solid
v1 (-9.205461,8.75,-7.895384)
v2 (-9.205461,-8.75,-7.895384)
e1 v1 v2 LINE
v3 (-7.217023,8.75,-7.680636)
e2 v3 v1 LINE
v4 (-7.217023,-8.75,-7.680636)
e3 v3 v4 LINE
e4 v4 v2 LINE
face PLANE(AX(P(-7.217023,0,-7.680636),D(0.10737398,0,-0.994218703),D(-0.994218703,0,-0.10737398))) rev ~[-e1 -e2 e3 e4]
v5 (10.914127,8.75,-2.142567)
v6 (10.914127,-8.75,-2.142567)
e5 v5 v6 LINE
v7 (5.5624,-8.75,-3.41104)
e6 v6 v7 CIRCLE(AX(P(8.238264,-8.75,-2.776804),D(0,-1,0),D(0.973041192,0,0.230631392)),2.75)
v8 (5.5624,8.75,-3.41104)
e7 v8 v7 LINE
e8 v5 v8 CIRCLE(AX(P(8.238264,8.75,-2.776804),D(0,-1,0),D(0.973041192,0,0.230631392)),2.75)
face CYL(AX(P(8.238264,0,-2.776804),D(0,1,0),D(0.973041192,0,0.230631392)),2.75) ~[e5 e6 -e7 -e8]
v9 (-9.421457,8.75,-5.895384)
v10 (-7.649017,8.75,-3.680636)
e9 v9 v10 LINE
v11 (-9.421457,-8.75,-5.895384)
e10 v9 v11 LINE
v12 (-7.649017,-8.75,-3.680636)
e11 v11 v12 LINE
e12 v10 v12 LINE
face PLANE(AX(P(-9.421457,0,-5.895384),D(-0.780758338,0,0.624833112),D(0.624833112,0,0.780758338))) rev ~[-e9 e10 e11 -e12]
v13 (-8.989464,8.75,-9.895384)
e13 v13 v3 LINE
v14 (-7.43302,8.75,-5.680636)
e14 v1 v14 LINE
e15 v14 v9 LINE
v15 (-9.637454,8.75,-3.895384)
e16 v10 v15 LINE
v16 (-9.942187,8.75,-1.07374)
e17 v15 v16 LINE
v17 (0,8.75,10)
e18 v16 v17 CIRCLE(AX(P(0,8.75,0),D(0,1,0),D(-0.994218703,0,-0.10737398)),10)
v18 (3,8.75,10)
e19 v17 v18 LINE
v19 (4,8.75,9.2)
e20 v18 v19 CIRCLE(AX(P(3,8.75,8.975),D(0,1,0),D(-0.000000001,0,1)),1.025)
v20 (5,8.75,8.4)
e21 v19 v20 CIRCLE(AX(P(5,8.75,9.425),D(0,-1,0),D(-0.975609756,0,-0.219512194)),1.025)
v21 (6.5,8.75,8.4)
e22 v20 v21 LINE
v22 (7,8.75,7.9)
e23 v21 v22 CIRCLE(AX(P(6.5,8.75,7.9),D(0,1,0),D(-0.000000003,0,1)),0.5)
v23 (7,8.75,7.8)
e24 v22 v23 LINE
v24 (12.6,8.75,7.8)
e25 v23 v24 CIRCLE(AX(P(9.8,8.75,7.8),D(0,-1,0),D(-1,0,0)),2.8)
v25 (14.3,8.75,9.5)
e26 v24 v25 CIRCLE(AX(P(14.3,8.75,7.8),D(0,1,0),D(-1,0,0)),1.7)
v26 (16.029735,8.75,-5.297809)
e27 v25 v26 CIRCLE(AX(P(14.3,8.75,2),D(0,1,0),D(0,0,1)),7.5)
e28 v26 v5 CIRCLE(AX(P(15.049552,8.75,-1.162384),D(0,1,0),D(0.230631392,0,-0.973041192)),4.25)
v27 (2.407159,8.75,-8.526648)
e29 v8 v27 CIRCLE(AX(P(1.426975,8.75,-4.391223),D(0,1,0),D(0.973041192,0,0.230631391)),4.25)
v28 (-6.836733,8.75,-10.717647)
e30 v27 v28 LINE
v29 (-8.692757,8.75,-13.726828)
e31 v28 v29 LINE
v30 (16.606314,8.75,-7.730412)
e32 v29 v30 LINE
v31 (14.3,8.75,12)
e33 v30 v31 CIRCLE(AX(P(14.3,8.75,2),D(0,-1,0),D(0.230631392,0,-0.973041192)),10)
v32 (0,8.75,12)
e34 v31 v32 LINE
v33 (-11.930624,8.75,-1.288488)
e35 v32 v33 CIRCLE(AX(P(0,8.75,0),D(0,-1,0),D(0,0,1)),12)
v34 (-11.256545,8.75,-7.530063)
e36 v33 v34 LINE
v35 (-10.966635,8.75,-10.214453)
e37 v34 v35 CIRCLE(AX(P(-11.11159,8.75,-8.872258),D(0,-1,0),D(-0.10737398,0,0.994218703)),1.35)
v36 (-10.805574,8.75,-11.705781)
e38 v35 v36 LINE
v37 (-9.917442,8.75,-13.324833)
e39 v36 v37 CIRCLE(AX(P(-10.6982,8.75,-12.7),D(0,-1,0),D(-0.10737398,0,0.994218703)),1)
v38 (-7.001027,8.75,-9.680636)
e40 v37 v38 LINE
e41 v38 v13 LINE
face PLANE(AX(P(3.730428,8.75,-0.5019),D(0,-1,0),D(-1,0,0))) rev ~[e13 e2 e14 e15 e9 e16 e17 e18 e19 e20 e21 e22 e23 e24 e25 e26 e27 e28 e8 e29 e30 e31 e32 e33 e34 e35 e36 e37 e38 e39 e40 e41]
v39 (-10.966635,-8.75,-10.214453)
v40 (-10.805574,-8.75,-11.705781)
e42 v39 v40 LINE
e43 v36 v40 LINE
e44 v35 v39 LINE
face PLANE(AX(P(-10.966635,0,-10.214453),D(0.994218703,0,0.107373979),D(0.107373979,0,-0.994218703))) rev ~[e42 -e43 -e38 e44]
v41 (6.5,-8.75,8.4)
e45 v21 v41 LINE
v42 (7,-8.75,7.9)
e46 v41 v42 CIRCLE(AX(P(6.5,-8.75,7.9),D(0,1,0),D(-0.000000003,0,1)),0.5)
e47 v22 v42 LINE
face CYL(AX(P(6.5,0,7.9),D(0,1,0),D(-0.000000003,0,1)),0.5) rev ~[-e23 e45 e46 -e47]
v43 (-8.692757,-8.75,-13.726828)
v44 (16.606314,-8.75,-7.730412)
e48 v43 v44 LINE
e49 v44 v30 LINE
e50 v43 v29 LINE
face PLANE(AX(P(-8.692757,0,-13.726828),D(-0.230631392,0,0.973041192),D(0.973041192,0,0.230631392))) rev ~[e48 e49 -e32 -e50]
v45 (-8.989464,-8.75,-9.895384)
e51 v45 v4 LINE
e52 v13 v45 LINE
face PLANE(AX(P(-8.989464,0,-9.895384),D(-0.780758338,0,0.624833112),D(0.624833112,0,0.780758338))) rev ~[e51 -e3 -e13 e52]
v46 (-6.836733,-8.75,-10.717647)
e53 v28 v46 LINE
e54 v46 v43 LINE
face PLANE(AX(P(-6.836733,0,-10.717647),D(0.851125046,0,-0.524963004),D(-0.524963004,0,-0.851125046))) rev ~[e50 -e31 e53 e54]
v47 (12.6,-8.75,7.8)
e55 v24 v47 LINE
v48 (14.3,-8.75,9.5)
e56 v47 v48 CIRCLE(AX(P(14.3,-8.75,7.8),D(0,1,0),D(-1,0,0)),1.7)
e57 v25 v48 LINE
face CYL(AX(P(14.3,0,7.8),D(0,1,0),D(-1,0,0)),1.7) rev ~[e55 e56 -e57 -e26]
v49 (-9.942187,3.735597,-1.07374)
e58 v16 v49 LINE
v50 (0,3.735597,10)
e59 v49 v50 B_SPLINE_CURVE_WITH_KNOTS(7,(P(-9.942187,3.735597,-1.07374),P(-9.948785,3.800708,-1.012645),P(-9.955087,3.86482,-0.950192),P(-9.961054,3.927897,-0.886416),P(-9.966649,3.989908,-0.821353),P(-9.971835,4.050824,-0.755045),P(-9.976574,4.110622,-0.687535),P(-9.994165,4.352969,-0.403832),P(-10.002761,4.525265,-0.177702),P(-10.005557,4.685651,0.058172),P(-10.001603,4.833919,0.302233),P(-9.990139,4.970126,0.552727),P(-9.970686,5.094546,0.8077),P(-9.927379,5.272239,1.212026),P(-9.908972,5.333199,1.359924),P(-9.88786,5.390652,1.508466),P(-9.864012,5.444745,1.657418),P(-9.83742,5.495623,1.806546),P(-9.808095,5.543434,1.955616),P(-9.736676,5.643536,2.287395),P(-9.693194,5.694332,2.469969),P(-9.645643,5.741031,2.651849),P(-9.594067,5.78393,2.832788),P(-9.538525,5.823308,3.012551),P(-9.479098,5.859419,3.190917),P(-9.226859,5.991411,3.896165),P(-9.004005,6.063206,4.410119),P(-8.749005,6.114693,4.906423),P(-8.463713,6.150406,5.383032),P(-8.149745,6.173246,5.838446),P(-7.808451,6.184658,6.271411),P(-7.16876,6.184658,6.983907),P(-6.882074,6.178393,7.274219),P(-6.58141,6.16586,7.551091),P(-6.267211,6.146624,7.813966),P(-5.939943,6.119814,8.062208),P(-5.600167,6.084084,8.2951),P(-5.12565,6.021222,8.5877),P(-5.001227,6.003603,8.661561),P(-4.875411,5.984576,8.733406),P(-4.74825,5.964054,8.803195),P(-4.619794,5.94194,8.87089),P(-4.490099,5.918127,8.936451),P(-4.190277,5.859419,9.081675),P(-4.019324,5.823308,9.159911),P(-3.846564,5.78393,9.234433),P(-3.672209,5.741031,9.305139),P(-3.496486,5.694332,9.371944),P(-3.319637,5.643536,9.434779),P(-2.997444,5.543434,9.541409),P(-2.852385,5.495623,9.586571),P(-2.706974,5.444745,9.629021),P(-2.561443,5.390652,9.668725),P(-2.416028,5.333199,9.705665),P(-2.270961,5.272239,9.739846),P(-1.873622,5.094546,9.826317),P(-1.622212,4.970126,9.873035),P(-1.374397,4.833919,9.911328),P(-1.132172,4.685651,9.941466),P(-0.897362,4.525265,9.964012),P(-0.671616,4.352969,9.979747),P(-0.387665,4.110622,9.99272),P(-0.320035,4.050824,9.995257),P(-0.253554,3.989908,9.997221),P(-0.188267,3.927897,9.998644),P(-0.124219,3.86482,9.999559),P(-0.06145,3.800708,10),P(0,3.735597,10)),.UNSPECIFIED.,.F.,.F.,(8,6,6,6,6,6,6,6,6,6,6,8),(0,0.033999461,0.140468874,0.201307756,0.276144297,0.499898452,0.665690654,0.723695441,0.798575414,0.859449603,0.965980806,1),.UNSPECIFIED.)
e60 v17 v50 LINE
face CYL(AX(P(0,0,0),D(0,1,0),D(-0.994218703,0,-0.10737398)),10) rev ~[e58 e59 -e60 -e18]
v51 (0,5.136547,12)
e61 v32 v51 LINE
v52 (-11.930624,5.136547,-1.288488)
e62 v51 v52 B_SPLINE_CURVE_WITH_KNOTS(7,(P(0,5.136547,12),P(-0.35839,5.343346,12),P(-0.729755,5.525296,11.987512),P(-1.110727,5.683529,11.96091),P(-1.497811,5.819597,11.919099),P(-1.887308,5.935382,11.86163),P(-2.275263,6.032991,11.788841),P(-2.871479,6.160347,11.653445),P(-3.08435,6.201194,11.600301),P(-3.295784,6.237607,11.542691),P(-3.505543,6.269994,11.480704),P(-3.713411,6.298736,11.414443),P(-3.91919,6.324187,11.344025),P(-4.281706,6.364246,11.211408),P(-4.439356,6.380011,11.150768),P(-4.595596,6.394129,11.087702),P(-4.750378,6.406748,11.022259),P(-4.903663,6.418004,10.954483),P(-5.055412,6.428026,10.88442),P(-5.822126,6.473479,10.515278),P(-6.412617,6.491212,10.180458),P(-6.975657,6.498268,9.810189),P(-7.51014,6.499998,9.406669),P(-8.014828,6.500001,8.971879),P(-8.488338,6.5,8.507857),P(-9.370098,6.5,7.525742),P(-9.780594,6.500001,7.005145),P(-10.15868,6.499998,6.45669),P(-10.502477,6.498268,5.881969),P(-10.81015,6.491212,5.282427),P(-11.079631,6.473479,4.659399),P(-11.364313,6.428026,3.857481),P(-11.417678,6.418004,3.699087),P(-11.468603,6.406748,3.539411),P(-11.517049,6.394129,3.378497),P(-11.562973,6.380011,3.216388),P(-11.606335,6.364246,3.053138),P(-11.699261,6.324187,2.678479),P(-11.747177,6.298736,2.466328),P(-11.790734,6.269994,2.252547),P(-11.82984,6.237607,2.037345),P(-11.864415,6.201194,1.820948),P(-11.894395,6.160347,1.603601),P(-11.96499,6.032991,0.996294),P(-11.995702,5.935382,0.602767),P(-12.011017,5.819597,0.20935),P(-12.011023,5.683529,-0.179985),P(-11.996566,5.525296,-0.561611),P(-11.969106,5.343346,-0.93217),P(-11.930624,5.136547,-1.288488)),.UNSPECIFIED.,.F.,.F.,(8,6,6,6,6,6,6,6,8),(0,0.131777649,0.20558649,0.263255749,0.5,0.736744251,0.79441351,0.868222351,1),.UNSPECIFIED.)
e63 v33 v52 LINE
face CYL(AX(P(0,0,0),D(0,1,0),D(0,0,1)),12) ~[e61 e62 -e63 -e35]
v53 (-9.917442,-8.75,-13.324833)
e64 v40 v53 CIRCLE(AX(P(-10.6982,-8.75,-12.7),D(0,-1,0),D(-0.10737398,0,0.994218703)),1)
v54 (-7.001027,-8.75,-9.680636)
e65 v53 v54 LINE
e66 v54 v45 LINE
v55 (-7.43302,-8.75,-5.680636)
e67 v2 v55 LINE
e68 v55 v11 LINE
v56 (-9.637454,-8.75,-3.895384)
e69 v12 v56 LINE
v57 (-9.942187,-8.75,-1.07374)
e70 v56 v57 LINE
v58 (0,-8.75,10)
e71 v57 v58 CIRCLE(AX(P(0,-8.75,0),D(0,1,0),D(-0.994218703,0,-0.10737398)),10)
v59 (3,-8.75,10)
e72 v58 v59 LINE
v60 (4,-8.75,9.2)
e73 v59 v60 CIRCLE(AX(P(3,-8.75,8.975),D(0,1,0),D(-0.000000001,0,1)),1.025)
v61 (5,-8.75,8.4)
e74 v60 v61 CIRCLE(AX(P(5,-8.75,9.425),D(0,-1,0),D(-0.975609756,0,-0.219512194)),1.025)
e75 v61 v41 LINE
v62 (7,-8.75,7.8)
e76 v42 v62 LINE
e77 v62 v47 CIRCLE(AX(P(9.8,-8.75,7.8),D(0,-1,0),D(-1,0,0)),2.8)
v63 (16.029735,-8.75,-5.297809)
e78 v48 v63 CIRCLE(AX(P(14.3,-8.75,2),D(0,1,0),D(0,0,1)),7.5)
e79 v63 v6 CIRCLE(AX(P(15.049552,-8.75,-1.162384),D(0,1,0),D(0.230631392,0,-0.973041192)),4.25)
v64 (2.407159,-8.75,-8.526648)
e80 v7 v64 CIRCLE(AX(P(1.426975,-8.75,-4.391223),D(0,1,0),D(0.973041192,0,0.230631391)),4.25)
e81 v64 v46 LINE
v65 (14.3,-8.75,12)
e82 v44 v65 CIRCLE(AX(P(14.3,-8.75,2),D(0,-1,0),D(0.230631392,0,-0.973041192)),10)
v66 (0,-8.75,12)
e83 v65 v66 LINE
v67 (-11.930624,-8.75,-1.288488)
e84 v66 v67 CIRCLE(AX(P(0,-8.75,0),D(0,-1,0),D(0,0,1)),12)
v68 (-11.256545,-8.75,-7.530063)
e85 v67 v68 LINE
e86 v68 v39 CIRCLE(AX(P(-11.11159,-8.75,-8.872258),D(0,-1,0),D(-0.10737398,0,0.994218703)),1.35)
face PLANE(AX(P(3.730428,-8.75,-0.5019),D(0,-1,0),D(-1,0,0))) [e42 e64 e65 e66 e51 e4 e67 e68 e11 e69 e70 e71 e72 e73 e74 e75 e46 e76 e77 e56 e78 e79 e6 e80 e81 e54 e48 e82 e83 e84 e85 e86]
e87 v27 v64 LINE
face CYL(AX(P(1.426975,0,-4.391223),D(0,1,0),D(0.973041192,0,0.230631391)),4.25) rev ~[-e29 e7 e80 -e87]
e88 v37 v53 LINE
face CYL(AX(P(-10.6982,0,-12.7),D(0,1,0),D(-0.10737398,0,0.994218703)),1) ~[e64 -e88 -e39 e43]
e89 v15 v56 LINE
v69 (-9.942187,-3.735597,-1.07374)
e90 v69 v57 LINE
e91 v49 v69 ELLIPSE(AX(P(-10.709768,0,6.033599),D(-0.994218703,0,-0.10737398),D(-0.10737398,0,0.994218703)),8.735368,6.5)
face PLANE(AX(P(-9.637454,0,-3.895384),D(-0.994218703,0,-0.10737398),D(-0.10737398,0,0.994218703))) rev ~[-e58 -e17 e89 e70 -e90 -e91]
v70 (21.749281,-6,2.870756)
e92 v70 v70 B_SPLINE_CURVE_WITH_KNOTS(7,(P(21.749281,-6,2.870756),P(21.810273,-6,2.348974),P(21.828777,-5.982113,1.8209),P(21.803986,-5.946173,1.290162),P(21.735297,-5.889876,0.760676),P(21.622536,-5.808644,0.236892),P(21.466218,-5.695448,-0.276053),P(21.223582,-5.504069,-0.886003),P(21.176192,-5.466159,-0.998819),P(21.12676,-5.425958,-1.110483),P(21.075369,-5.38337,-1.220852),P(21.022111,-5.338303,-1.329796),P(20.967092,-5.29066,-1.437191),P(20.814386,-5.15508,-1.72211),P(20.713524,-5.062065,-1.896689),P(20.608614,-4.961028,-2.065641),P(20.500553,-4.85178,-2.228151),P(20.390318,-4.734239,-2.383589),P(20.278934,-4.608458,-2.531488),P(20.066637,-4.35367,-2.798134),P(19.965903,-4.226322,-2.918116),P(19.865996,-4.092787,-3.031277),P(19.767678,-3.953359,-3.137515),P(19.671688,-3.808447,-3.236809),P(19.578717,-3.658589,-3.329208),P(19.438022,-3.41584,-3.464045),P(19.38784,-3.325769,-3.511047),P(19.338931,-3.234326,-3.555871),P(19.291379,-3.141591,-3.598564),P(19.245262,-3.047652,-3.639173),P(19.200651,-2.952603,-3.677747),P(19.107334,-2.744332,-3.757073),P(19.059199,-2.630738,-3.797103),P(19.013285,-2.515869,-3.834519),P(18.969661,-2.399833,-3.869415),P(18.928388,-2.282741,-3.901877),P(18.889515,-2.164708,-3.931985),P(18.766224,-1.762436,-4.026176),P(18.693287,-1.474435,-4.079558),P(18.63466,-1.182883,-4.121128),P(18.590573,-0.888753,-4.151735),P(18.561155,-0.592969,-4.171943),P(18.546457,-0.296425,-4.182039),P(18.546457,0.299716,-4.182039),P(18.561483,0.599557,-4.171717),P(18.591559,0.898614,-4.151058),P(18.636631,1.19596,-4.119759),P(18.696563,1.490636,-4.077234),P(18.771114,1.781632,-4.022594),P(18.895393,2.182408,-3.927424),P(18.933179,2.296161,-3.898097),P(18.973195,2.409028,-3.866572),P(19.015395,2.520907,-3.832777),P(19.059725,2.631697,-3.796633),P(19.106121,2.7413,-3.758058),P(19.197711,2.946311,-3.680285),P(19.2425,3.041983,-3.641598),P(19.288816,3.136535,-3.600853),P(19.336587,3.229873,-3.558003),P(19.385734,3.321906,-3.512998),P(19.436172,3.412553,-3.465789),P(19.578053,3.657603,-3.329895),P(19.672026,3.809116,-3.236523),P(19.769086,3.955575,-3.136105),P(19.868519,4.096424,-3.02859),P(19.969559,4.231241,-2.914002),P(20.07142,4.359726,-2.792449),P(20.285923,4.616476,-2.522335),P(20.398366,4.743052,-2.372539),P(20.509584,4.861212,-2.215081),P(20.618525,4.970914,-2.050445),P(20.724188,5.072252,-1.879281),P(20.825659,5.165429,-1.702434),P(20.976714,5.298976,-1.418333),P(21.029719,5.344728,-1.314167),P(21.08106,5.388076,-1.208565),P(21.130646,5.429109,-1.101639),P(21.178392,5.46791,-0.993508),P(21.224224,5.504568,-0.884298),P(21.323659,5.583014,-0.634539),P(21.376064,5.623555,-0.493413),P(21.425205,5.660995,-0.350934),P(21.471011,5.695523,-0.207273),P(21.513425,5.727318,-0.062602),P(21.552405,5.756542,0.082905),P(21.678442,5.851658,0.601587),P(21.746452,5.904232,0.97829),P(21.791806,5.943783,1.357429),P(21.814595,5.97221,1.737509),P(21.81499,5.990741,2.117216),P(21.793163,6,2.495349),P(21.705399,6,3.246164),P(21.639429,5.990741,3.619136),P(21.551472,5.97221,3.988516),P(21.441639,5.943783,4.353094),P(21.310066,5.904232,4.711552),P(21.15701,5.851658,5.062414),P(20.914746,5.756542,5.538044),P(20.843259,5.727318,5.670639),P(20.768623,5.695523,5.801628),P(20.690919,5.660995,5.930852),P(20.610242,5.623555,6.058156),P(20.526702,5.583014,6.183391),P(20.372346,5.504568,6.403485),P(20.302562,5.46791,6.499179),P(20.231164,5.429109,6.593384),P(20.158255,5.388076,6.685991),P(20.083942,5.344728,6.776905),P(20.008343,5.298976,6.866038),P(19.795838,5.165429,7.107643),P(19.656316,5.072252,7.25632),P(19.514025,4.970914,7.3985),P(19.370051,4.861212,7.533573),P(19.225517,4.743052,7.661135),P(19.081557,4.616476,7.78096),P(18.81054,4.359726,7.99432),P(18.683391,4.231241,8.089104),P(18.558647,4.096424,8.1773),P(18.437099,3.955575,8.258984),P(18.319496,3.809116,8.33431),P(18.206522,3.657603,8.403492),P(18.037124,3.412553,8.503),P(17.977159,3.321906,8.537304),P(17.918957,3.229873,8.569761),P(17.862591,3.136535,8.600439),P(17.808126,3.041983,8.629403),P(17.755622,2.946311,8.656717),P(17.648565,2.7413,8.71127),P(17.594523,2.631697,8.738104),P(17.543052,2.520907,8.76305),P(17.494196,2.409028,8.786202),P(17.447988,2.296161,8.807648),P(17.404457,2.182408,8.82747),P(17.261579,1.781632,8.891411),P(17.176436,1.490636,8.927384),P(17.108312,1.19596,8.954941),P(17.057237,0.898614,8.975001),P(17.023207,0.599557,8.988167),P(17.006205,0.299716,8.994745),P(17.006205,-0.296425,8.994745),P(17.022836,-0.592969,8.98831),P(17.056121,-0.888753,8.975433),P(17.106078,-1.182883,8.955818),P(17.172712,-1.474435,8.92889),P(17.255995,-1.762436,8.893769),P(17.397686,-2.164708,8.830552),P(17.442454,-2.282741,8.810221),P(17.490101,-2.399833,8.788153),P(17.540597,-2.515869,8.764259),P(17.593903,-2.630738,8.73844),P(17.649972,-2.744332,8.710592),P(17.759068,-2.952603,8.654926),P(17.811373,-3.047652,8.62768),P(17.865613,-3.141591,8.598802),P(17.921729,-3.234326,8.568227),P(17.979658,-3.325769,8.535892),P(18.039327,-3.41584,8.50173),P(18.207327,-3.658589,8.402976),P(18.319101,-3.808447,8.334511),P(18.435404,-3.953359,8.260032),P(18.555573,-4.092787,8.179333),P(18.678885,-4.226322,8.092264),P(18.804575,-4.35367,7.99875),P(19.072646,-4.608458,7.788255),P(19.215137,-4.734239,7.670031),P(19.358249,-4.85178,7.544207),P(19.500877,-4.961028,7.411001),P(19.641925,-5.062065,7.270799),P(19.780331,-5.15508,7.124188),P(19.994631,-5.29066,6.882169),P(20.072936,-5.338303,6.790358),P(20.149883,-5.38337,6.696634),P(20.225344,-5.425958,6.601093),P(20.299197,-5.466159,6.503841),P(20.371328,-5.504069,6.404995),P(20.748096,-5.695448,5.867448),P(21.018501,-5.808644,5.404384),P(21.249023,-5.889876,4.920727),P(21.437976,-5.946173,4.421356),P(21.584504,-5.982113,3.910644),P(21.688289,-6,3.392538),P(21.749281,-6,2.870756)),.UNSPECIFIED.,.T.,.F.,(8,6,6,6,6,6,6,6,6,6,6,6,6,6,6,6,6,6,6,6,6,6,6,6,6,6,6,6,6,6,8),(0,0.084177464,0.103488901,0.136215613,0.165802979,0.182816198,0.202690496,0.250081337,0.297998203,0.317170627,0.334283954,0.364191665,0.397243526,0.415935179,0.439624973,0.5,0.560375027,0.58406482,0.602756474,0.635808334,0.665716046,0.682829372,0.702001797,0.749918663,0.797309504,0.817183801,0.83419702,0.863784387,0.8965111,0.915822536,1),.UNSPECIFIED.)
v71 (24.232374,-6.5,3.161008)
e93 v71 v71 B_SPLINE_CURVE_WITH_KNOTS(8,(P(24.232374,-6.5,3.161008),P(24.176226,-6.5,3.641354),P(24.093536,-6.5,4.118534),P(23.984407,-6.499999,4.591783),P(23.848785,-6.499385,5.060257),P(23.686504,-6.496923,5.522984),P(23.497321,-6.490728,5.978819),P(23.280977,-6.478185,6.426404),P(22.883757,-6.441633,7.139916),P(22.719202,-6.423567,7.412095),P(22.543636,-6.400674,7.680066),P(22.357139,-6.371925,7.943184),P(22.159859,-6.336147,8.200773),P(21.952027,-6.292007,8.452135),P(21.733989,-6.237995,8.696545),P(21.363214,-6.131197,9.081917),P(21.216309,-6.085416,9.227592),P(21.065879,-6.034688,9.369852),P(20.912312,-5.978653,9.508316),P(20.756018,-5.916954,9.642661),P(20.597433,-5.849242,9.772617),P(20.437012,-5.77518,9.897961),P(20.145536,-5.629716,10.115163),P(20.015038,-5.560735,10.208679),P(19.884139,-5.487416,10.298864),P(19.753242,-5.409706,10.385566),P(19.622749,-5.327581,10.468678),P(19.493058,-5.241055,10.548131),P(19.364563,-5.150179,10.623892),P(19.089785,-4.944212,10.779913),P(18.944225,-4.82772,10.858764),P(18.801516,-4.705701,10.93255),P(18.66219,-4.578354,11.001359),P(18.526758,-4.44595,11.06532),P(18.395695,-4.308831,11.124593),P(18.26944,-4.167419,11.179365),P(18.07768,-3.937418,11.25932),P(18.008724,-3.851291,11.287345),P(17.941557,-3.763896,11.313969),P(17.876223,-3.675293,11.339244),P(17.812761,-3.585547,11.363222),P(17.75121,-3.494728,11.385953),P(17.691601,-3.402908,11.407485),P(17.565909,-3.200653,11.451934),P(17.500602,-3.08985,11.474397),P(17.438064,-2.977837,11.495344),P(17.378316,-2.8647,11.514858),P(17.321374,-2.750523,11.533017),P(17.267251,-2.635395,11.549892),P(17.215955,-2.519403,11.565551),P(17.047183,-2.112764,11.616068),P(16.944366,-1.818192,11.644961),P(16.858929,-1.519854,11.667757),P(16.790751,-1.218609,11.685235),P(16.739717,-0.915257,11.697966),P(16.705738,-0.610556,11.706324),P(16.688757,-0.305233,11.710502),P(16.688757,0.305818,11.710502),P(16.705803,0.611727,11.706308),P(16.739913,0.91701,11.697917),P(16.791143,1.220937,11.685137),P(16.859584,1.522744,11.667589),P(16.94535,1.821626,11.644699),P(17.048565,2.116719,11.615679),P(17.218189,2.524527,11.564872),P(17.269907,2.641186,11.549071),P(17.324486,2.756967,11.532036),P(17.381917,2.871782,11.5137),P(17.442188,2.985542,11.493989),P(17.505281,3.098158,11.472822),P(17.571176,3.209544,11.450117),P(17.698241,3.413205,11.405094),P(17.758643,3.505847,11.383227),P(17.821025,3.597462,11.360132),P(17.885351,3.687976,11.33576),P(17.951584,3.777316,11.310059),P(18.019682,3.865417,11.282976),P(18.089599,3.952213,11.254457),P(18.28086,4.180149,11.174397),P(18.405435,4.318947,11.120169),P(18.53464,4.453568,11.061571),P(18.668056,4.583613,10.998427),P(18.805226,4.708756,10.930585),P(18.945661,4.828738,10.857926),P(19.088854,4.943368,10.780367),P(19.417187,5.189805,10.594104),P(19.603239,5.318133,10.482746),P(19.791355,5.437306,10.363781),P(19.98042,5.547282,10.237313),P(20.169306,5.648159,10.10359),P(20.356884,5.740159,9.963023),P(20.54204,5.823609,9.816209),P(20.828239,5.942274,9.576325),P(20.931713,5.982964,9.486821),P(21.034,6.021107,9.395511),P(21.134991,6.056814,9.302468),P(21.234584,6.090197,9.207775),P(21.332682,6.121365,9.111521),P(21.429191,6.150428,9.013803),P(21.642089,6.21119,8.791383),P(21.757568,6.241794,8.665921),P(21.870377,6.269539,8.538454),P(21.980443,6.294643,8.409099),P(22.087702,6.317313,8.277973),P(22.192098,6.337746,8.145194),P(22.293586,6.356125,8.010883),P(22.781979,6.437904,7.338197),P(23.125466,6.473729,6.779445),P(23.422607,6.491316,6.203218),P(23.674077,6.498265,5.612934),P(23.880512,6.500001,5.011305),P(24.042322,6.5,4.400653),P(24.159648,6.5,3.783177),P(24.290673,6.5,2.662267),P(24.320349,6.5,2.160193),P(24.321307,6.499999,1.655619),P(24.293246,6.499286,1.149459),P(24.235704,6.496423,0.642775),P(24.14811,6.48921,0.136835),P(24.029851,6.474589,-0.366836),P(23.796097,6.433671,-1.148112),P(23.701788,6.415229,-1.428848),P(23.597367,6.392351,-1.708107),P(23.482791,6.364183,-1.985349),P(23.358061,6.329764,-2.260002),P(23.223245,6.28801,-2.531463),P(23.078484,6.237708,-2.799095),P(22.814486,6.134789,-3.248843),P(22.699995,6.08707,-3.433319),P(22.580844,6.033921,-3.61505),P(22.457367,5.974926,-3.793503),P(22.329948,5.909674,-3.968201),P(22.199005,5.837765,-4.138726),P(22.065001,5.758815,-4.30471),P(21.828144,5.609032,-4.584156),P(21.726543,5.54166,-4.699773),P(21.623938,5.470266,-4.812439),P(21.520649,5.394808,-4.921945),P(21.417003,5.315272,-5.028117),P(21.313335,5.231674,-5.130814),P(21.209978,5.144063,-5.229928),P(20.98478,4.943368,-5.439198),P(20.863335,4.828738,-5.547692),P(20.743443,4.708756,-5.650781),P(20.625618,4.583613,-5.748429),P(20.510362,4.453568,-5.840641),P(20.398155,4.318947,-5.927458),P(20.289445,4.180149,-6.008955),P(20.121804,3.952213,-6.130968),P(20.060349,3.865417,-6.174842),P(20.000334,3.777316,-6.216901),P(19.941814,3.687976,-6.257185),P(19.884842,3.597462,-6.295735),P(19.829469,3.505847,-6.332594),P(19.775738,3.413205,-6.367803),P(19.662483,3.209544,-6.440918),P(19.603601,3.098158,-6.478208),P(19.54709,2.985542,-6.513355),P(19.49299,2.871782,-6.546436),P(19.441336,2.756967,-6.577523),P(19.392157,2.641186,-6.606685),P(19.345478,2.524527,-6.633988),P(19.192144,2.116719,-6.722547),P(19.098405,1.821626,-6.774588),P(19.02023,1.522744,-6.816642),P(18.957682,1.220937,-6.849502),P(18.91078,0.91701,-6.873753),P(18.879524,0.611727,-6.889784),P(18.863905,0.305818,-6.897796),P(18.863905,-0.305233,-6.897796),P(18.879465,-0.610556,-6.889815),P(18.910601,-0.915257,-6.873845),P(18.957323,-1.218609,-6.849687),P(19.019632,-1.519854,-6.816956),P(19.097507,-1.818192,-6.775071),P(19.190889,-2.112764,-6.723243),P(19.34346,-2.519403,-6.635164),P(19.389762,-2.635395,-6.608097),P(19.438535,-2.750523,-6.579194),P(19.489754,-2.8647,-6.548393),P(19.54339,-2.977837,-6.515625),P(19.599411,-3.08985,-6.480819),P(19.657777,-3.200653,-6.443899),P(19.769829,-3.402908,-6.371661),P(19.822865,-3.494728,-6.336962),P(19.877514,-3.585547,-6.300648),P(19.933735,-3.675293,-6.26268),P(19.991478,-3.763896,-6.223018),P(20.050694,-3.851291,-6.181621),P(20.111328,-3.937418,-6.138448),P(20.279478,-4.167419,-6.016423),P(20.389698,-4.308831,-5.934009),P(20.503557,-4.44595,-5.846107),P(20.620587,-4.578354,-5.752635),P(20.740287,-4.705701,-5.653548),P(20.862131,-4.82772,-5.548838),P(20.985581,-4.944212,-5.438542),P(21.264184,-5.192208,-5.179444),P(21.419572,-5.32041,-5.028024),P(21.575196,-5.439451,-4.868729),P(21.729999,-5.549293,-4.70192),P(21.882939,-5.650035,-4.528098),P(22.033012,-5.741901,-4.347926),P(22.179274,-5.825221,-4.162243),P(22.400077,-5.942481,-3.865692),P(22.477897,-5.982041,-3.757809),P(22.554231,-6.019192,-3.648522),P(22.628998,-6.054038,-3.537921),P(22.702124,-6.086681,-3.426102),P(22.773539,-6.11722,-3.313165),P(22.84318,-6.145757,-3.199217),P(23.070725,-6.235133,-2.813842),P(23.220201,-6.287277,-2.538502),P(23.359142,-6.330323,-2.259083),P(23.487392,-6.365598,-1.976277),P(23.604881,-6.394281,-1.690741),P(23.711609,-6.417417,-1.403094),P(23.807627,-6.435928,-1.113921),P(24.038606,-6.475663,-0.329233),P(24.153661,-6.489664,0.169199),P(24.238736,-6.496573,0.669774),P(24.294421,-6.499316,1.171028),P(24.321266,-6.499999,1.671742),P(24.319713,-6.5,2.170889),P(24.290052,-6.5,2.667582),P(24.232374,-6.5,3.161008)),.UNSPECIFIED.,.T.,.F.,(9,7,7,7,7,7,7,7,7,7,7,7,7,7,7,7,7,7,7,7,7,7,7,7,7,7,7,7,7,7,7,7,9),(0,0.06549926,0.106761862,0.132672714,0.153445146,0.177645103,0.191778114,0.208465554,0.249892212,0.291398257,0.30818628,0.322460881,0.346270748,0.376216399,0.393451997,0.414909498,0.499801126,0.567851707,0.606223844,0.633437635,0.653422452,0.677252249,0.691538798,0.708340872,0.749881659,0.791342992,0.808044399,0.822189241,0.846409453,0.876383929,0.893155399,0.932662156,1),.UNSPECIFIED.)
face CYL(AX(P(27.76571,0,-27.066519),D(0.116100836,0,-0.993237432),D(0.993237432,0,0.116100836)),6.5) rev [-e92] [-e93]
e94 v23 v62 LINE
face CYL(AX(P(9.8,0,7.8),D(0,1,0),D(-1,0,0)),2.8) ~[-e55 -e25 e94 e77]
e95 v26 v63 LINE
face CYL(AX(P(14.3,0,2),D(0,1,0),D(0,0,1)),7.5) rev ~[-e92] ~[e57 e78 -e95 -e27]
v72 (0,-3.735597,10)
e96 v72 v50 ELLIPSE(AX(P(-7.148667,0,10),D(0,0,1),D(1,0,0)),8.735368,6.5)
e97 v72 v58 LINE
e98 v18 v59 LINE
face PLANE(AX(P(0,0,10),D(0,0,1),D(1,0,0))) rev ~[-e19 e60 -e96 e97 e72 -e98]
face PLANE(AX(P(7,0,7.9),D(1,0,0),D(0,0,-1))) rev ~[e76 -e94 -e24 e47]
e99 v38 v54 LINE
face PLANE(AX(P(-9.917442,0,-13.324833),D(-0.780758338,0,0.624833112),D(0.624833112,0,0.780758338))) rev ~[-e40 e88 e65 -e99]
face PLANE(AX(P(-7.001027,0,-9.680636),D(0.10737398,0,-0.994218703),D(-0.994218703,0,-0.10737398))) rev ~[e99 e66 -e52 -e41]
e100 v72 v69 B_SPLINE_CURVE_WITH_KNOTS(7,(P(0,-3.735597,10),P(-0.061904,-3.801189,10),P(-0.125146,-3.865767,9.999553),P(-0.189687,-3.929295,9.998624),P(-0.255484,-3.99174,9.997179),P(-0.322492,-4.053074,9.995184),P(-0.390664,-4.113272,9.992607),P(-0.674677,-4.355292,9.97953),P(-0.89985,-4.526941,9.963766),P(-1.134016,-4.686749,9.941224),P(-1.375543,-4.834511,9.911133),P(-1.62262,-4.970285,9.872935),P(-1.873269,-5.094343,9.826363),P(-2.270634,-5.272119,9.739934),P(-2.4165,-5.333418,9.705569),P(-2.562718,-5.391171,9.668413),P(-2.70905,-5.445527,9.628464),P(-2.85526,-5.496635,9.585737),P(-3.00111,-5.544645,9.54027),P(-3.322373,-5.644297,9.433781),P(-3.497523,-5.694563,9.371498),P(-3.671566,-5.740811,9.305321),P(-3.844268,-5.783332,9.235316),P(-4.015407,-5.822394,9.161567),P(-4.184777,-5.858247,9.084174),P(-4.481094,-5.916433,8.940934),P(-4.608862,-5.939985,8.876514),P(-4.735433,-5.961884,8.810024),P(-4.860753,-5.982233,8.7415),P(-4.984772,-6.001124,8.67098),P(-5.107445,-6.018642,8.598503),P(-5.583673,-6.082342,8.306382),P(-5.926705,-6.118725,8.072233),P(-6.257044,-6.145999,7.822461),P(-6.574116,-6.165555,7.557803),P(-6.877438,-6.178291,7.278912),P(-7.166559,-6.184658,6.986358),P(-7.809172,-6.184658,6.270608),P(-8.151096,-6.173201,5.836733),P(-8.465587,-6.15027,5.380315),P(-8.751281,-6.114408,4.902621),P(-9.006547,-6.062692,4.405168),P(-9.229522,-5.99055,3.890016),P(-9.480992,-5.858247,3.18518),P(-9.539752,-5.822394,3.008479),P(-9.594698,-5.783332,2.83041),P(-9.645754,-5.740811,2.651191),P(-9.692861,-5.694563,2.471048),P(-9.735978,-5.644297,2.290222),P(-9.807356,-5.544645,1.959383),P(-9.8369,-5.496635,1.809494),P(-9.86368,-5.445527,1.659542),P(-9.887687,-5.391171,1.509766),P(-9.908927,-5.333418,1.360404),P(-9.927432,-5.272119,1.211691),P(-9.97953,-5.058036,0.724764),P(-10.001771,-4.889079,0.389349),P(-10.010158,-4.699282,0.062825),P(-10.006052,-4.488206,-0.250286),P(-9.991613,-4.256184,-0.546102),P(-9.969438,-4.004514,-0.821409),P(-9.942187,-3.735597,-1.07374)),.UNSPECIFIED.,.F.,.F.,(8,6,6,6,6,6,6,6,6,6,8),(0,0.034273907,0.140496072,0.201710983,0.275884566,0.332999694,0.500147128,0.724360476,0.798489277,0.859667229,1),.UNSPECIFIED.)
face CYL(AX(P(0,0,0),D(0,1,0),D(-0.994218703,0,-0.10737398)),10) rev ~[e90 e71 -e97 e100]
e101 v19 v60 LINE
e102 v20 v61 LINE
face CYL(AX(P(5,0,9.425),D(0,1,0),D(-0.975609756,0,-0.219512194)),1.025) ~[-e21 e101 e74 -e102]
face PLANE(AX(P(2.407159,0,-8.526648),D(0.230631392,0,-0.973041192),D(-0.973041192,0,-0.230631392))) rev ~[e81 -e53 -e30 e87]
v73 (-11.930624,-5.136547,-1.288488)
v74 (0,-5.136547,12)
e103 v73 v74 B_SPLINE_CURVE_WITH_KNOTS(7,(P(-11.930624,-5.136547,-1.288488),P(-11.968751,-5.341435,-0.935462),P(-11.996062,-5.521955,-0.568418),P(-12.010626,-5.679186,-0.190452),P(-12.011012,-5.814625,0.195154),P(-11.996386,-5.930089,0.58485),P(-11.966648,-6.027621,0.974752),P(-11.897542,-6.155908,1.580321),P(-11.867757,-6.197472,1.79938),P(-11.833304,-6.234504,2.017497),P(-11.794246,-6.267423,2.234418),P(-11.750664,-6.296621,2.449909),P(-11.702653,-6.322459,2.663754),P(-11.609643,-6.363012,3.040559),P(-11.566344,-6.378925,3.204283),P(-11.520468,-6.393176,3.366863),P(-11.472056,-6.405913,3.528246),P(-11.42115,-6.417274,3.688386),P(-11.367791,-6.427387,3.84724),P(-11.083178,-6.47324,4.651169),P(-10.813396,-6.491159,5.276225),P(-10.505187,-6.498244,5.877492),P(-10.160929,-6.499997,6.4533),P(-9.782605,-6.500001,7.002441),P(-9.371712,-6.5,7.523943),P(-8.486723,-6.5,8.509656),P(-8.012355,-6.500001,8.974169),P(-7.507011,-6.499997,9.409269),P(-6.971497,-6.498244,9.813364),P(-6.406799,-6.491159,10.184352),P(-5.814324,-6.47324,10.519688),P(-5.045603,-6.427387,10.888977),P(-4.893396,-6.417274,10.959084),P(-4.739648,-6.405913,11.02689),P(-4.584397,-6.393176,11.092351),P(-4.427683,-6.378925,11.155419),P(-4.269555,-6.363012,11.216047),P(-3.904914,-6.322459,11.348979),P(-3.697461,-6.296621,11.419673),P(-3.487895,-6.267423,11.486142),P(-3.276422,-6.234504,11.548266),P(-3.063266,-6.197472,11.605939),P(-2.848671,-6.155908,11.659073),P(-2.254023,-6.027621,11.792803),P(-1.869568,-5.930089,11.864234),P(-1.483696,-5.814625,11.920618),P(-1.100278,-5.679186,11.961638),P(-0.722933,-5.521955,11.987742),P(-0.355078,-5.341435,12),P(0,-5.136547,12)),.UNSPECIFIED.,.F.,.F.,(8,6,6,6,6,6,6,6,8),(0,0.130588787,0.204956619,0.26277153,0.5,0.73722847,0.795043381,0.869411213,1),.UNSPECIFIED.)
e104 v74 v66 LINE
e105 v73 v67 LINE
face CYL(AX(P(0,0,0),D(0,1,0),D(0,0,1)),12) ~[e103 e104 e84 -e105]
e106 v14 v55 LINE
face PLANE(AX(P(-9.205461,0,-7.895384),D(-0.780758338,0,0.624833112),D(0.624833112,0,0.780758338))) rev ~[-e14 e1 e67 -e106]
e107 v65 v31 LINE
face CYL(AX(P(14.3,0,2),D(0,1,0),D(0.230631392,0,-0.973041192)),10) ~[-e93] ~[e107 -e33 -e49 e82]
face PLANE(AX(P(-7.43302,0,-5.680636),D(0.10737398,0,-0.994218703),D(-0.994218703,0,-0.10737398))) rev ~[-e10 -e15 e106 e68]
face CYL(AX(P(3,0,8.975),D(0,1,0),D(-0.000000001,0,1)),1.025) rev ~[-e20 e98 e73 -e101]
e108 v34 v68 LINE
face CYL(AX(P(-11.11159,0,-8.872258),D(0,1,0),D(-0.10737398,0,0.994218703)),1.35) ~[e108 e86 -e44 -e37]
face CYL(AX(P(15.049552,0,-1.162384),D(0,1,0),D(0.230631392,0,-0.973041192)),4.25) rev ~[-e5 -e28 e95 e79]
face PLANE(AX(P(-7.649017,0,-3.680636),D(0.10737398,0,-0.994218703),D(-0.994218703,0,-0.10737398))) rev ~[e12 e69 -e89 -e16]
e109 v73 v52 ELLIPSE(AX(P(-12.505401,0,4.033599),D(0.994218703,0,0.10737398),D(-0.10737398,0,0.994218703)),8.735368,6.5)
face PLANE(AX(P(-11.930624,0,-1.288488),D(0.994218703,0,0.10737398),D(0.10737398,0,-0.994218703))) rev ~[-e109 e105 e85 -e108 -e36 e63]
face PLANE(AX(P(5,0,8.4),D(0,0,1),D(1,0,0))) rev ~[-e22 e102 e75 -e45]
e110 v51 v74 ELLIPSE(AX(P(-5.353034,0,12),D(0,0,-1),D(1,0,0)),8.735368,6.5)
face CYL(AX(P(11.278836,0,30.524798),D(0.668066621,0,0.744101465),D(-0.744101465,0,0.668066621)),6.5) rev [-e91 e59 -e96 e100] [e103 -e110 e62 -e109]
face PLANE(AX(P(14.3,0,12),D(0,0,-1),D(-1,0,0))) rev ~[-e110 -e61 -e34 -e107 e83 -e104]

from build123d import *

# Parameters (mm, degrees)
BOSS_EXTRUDE3_DEPTH     = 8.75
CUT_EXTRUDE1_DEPTH      = 30.433335283
CUT_EXTRUDE1_DEPTH_BACK = 30.433335283
SKETCH2_R               = 6.5
CUT_EXTRUDE2_DEPTH      = 30.248560932
CUT_EXTRUDE2_DEPTH_BACK = 30.248560932
SKETCH3_R               = 6.5


with BuildPart() as part:
    # Sketch1 → Boss-Extrude3 (new, symmetric)
    with BuildSketch(Plane(origin=(0, 0, 0), x_dir=(1, 0, 0), z_dir=(0, 1, 0))):
        with BuildLine():
            Line((14.3, -12), (0, -12))
            ThreePointArc((0, -12), (-8.929217577, -8.016799453), (-11.930624431, 1.288487755))
            Line((-11.930624431, 1.288487755), (-11.256544629, 7.530062747))
            ThreePointArc((-11.256544629, 7.530062747), (-12.453785005, 9.017212868), (-10.966634884, 10.214453244))
            Line((-10.966634884, 10.214453244), (-10.805573915, 11.705781297))
            ThreePointArc((-10.805573915, 11.705781297), (-11.574951792, 13.180943013), (-9.917441597, 13.324833112))
            Line((-9.917441597, 13.324833112), (-7.001026651, 9.680635575))
            Line((-7.001026651, 9.680635575), (-8.989464056, 9.895383534))
            Line((-8.989464056, 9.895383534), (-7.217023351, 7.680635575))
            Line((-7.217023351, 7.680635575), (-9.205460756, 7.895383534))
            Line((-9.205460756, 7.895383534), (-7.433020052, 5.680635575))
            Line((-7.433020052, 5.680635575), (-9.421457457, 5.895383534))
            Line((-9.421457457, 5.895383534), (-7.649016752, 3.680635575))
            Line((-7.649016752, 3.680635575), (-9.637454157, 3.895383534))
            Line((-9.637454157, 3.895383534), (-9.942187026, 1.073739796))
            ThreePointArc((-9.942187026, 1.073739796), (-7.441014647, -6.680666211), (0, -10))
            Line((0, -10), (3, -10))
            ThreePointArc((3, -10), (3.640312424, -9.77539053), (4, -9.2))
            ThreePointArc((4, -9.2), (4.359687576, -8.62460947), (5, -8.4))
            Line((5, -8.4), (6.5, -8.4))
            ThreePointArc((6.5, -8.4), (6.853553391, -8.253553391), (7, -7.9))
            Line((7, -7.9), (7, -7.8))
            ThreePointArc((7, -7.8), (9.8, -5), (12.6, -7.8))
            ThreePointArc((12.6, -7.8), (13.097918472, -9.002081528), (14.3, -9.5))
            ThreePointArc((14.3, -9.5), (21.749280739, -2.870756267), (16.029735438, 5.297808939))
            ThreePointArc((16.029735438, 5.297808939), (12.818459255, 4.77966532), (10.914126957, 2.142567288))
            ThreePointArc((10.914126957, 2.142567288), (7.604027352, 0.100940338), (5.562400402, 3.411039943))
            ThreePointArc((5.562400402, 3.411039943), (5.044256782, 6.622316125), (2.407158751, 8.526648423))
            Line((2.407158751, 8.526648423), (-6.836732572, 10.717646644))
            Line((-6.836732572, 10.717646644), (-8.692757073, 13.726828103))
            Line((-8.692757073, 13.726828103), (16.606313917, 7.730411919))
            ThreePointArc((16.606313917, 7.730411919), (24.232374318, -3.161008357), (14.3, -12))
        make_face()
    extrude(amount=BOSS_EXTRUDE3_DEPTH, both=True)

    # Sketch2 → Cut-Extrude1 (cut, two sides: drawn at the far end of the back side and taken through both)
    with BuildSketch(Plane(origin=(-0.037875914, 0, 0.324026741), x_dir=(0.9932374318152281, 0, 0.11610083566060259), z_dir=(-0.11610083566060259, 0, 0.9932374318152281)).offset(-CUT_EXTRUDE1_DEPTH_BACK)):
        with Locations((24.435496946, 0)):
            Circle(SKETCH2_R)
    extrude(amount=CUT_EXTRUDE1_DEPTH + CUT_EXTRUDE1_DEPTH_BACK, mode=Mode.SUBTRACT)

    # Sketch3 → Cut-Extrude2 (cut, two sides: drawn at the far end of the back side and taken through both)
    with BuildSketch(Plane(origin=(0, 0, 0), x_dir=(-0.7441014647171004, 0, 0.6680666210834559), z_dir=(-0.6680666210834559, 0, -0.7441014647171004)).offset(-CUT_EXTRUDE2_DEPTH_BACK)):
        with Locations((12, 0)):
            Circle(SKETCH3_R)
    extrude(amount=CUT_EXTRUDE2_DEPTH + CUT_EXTRUDE2_DEPTH_BACK, mode=Mode.SUBTRACT)


solid = part.part
